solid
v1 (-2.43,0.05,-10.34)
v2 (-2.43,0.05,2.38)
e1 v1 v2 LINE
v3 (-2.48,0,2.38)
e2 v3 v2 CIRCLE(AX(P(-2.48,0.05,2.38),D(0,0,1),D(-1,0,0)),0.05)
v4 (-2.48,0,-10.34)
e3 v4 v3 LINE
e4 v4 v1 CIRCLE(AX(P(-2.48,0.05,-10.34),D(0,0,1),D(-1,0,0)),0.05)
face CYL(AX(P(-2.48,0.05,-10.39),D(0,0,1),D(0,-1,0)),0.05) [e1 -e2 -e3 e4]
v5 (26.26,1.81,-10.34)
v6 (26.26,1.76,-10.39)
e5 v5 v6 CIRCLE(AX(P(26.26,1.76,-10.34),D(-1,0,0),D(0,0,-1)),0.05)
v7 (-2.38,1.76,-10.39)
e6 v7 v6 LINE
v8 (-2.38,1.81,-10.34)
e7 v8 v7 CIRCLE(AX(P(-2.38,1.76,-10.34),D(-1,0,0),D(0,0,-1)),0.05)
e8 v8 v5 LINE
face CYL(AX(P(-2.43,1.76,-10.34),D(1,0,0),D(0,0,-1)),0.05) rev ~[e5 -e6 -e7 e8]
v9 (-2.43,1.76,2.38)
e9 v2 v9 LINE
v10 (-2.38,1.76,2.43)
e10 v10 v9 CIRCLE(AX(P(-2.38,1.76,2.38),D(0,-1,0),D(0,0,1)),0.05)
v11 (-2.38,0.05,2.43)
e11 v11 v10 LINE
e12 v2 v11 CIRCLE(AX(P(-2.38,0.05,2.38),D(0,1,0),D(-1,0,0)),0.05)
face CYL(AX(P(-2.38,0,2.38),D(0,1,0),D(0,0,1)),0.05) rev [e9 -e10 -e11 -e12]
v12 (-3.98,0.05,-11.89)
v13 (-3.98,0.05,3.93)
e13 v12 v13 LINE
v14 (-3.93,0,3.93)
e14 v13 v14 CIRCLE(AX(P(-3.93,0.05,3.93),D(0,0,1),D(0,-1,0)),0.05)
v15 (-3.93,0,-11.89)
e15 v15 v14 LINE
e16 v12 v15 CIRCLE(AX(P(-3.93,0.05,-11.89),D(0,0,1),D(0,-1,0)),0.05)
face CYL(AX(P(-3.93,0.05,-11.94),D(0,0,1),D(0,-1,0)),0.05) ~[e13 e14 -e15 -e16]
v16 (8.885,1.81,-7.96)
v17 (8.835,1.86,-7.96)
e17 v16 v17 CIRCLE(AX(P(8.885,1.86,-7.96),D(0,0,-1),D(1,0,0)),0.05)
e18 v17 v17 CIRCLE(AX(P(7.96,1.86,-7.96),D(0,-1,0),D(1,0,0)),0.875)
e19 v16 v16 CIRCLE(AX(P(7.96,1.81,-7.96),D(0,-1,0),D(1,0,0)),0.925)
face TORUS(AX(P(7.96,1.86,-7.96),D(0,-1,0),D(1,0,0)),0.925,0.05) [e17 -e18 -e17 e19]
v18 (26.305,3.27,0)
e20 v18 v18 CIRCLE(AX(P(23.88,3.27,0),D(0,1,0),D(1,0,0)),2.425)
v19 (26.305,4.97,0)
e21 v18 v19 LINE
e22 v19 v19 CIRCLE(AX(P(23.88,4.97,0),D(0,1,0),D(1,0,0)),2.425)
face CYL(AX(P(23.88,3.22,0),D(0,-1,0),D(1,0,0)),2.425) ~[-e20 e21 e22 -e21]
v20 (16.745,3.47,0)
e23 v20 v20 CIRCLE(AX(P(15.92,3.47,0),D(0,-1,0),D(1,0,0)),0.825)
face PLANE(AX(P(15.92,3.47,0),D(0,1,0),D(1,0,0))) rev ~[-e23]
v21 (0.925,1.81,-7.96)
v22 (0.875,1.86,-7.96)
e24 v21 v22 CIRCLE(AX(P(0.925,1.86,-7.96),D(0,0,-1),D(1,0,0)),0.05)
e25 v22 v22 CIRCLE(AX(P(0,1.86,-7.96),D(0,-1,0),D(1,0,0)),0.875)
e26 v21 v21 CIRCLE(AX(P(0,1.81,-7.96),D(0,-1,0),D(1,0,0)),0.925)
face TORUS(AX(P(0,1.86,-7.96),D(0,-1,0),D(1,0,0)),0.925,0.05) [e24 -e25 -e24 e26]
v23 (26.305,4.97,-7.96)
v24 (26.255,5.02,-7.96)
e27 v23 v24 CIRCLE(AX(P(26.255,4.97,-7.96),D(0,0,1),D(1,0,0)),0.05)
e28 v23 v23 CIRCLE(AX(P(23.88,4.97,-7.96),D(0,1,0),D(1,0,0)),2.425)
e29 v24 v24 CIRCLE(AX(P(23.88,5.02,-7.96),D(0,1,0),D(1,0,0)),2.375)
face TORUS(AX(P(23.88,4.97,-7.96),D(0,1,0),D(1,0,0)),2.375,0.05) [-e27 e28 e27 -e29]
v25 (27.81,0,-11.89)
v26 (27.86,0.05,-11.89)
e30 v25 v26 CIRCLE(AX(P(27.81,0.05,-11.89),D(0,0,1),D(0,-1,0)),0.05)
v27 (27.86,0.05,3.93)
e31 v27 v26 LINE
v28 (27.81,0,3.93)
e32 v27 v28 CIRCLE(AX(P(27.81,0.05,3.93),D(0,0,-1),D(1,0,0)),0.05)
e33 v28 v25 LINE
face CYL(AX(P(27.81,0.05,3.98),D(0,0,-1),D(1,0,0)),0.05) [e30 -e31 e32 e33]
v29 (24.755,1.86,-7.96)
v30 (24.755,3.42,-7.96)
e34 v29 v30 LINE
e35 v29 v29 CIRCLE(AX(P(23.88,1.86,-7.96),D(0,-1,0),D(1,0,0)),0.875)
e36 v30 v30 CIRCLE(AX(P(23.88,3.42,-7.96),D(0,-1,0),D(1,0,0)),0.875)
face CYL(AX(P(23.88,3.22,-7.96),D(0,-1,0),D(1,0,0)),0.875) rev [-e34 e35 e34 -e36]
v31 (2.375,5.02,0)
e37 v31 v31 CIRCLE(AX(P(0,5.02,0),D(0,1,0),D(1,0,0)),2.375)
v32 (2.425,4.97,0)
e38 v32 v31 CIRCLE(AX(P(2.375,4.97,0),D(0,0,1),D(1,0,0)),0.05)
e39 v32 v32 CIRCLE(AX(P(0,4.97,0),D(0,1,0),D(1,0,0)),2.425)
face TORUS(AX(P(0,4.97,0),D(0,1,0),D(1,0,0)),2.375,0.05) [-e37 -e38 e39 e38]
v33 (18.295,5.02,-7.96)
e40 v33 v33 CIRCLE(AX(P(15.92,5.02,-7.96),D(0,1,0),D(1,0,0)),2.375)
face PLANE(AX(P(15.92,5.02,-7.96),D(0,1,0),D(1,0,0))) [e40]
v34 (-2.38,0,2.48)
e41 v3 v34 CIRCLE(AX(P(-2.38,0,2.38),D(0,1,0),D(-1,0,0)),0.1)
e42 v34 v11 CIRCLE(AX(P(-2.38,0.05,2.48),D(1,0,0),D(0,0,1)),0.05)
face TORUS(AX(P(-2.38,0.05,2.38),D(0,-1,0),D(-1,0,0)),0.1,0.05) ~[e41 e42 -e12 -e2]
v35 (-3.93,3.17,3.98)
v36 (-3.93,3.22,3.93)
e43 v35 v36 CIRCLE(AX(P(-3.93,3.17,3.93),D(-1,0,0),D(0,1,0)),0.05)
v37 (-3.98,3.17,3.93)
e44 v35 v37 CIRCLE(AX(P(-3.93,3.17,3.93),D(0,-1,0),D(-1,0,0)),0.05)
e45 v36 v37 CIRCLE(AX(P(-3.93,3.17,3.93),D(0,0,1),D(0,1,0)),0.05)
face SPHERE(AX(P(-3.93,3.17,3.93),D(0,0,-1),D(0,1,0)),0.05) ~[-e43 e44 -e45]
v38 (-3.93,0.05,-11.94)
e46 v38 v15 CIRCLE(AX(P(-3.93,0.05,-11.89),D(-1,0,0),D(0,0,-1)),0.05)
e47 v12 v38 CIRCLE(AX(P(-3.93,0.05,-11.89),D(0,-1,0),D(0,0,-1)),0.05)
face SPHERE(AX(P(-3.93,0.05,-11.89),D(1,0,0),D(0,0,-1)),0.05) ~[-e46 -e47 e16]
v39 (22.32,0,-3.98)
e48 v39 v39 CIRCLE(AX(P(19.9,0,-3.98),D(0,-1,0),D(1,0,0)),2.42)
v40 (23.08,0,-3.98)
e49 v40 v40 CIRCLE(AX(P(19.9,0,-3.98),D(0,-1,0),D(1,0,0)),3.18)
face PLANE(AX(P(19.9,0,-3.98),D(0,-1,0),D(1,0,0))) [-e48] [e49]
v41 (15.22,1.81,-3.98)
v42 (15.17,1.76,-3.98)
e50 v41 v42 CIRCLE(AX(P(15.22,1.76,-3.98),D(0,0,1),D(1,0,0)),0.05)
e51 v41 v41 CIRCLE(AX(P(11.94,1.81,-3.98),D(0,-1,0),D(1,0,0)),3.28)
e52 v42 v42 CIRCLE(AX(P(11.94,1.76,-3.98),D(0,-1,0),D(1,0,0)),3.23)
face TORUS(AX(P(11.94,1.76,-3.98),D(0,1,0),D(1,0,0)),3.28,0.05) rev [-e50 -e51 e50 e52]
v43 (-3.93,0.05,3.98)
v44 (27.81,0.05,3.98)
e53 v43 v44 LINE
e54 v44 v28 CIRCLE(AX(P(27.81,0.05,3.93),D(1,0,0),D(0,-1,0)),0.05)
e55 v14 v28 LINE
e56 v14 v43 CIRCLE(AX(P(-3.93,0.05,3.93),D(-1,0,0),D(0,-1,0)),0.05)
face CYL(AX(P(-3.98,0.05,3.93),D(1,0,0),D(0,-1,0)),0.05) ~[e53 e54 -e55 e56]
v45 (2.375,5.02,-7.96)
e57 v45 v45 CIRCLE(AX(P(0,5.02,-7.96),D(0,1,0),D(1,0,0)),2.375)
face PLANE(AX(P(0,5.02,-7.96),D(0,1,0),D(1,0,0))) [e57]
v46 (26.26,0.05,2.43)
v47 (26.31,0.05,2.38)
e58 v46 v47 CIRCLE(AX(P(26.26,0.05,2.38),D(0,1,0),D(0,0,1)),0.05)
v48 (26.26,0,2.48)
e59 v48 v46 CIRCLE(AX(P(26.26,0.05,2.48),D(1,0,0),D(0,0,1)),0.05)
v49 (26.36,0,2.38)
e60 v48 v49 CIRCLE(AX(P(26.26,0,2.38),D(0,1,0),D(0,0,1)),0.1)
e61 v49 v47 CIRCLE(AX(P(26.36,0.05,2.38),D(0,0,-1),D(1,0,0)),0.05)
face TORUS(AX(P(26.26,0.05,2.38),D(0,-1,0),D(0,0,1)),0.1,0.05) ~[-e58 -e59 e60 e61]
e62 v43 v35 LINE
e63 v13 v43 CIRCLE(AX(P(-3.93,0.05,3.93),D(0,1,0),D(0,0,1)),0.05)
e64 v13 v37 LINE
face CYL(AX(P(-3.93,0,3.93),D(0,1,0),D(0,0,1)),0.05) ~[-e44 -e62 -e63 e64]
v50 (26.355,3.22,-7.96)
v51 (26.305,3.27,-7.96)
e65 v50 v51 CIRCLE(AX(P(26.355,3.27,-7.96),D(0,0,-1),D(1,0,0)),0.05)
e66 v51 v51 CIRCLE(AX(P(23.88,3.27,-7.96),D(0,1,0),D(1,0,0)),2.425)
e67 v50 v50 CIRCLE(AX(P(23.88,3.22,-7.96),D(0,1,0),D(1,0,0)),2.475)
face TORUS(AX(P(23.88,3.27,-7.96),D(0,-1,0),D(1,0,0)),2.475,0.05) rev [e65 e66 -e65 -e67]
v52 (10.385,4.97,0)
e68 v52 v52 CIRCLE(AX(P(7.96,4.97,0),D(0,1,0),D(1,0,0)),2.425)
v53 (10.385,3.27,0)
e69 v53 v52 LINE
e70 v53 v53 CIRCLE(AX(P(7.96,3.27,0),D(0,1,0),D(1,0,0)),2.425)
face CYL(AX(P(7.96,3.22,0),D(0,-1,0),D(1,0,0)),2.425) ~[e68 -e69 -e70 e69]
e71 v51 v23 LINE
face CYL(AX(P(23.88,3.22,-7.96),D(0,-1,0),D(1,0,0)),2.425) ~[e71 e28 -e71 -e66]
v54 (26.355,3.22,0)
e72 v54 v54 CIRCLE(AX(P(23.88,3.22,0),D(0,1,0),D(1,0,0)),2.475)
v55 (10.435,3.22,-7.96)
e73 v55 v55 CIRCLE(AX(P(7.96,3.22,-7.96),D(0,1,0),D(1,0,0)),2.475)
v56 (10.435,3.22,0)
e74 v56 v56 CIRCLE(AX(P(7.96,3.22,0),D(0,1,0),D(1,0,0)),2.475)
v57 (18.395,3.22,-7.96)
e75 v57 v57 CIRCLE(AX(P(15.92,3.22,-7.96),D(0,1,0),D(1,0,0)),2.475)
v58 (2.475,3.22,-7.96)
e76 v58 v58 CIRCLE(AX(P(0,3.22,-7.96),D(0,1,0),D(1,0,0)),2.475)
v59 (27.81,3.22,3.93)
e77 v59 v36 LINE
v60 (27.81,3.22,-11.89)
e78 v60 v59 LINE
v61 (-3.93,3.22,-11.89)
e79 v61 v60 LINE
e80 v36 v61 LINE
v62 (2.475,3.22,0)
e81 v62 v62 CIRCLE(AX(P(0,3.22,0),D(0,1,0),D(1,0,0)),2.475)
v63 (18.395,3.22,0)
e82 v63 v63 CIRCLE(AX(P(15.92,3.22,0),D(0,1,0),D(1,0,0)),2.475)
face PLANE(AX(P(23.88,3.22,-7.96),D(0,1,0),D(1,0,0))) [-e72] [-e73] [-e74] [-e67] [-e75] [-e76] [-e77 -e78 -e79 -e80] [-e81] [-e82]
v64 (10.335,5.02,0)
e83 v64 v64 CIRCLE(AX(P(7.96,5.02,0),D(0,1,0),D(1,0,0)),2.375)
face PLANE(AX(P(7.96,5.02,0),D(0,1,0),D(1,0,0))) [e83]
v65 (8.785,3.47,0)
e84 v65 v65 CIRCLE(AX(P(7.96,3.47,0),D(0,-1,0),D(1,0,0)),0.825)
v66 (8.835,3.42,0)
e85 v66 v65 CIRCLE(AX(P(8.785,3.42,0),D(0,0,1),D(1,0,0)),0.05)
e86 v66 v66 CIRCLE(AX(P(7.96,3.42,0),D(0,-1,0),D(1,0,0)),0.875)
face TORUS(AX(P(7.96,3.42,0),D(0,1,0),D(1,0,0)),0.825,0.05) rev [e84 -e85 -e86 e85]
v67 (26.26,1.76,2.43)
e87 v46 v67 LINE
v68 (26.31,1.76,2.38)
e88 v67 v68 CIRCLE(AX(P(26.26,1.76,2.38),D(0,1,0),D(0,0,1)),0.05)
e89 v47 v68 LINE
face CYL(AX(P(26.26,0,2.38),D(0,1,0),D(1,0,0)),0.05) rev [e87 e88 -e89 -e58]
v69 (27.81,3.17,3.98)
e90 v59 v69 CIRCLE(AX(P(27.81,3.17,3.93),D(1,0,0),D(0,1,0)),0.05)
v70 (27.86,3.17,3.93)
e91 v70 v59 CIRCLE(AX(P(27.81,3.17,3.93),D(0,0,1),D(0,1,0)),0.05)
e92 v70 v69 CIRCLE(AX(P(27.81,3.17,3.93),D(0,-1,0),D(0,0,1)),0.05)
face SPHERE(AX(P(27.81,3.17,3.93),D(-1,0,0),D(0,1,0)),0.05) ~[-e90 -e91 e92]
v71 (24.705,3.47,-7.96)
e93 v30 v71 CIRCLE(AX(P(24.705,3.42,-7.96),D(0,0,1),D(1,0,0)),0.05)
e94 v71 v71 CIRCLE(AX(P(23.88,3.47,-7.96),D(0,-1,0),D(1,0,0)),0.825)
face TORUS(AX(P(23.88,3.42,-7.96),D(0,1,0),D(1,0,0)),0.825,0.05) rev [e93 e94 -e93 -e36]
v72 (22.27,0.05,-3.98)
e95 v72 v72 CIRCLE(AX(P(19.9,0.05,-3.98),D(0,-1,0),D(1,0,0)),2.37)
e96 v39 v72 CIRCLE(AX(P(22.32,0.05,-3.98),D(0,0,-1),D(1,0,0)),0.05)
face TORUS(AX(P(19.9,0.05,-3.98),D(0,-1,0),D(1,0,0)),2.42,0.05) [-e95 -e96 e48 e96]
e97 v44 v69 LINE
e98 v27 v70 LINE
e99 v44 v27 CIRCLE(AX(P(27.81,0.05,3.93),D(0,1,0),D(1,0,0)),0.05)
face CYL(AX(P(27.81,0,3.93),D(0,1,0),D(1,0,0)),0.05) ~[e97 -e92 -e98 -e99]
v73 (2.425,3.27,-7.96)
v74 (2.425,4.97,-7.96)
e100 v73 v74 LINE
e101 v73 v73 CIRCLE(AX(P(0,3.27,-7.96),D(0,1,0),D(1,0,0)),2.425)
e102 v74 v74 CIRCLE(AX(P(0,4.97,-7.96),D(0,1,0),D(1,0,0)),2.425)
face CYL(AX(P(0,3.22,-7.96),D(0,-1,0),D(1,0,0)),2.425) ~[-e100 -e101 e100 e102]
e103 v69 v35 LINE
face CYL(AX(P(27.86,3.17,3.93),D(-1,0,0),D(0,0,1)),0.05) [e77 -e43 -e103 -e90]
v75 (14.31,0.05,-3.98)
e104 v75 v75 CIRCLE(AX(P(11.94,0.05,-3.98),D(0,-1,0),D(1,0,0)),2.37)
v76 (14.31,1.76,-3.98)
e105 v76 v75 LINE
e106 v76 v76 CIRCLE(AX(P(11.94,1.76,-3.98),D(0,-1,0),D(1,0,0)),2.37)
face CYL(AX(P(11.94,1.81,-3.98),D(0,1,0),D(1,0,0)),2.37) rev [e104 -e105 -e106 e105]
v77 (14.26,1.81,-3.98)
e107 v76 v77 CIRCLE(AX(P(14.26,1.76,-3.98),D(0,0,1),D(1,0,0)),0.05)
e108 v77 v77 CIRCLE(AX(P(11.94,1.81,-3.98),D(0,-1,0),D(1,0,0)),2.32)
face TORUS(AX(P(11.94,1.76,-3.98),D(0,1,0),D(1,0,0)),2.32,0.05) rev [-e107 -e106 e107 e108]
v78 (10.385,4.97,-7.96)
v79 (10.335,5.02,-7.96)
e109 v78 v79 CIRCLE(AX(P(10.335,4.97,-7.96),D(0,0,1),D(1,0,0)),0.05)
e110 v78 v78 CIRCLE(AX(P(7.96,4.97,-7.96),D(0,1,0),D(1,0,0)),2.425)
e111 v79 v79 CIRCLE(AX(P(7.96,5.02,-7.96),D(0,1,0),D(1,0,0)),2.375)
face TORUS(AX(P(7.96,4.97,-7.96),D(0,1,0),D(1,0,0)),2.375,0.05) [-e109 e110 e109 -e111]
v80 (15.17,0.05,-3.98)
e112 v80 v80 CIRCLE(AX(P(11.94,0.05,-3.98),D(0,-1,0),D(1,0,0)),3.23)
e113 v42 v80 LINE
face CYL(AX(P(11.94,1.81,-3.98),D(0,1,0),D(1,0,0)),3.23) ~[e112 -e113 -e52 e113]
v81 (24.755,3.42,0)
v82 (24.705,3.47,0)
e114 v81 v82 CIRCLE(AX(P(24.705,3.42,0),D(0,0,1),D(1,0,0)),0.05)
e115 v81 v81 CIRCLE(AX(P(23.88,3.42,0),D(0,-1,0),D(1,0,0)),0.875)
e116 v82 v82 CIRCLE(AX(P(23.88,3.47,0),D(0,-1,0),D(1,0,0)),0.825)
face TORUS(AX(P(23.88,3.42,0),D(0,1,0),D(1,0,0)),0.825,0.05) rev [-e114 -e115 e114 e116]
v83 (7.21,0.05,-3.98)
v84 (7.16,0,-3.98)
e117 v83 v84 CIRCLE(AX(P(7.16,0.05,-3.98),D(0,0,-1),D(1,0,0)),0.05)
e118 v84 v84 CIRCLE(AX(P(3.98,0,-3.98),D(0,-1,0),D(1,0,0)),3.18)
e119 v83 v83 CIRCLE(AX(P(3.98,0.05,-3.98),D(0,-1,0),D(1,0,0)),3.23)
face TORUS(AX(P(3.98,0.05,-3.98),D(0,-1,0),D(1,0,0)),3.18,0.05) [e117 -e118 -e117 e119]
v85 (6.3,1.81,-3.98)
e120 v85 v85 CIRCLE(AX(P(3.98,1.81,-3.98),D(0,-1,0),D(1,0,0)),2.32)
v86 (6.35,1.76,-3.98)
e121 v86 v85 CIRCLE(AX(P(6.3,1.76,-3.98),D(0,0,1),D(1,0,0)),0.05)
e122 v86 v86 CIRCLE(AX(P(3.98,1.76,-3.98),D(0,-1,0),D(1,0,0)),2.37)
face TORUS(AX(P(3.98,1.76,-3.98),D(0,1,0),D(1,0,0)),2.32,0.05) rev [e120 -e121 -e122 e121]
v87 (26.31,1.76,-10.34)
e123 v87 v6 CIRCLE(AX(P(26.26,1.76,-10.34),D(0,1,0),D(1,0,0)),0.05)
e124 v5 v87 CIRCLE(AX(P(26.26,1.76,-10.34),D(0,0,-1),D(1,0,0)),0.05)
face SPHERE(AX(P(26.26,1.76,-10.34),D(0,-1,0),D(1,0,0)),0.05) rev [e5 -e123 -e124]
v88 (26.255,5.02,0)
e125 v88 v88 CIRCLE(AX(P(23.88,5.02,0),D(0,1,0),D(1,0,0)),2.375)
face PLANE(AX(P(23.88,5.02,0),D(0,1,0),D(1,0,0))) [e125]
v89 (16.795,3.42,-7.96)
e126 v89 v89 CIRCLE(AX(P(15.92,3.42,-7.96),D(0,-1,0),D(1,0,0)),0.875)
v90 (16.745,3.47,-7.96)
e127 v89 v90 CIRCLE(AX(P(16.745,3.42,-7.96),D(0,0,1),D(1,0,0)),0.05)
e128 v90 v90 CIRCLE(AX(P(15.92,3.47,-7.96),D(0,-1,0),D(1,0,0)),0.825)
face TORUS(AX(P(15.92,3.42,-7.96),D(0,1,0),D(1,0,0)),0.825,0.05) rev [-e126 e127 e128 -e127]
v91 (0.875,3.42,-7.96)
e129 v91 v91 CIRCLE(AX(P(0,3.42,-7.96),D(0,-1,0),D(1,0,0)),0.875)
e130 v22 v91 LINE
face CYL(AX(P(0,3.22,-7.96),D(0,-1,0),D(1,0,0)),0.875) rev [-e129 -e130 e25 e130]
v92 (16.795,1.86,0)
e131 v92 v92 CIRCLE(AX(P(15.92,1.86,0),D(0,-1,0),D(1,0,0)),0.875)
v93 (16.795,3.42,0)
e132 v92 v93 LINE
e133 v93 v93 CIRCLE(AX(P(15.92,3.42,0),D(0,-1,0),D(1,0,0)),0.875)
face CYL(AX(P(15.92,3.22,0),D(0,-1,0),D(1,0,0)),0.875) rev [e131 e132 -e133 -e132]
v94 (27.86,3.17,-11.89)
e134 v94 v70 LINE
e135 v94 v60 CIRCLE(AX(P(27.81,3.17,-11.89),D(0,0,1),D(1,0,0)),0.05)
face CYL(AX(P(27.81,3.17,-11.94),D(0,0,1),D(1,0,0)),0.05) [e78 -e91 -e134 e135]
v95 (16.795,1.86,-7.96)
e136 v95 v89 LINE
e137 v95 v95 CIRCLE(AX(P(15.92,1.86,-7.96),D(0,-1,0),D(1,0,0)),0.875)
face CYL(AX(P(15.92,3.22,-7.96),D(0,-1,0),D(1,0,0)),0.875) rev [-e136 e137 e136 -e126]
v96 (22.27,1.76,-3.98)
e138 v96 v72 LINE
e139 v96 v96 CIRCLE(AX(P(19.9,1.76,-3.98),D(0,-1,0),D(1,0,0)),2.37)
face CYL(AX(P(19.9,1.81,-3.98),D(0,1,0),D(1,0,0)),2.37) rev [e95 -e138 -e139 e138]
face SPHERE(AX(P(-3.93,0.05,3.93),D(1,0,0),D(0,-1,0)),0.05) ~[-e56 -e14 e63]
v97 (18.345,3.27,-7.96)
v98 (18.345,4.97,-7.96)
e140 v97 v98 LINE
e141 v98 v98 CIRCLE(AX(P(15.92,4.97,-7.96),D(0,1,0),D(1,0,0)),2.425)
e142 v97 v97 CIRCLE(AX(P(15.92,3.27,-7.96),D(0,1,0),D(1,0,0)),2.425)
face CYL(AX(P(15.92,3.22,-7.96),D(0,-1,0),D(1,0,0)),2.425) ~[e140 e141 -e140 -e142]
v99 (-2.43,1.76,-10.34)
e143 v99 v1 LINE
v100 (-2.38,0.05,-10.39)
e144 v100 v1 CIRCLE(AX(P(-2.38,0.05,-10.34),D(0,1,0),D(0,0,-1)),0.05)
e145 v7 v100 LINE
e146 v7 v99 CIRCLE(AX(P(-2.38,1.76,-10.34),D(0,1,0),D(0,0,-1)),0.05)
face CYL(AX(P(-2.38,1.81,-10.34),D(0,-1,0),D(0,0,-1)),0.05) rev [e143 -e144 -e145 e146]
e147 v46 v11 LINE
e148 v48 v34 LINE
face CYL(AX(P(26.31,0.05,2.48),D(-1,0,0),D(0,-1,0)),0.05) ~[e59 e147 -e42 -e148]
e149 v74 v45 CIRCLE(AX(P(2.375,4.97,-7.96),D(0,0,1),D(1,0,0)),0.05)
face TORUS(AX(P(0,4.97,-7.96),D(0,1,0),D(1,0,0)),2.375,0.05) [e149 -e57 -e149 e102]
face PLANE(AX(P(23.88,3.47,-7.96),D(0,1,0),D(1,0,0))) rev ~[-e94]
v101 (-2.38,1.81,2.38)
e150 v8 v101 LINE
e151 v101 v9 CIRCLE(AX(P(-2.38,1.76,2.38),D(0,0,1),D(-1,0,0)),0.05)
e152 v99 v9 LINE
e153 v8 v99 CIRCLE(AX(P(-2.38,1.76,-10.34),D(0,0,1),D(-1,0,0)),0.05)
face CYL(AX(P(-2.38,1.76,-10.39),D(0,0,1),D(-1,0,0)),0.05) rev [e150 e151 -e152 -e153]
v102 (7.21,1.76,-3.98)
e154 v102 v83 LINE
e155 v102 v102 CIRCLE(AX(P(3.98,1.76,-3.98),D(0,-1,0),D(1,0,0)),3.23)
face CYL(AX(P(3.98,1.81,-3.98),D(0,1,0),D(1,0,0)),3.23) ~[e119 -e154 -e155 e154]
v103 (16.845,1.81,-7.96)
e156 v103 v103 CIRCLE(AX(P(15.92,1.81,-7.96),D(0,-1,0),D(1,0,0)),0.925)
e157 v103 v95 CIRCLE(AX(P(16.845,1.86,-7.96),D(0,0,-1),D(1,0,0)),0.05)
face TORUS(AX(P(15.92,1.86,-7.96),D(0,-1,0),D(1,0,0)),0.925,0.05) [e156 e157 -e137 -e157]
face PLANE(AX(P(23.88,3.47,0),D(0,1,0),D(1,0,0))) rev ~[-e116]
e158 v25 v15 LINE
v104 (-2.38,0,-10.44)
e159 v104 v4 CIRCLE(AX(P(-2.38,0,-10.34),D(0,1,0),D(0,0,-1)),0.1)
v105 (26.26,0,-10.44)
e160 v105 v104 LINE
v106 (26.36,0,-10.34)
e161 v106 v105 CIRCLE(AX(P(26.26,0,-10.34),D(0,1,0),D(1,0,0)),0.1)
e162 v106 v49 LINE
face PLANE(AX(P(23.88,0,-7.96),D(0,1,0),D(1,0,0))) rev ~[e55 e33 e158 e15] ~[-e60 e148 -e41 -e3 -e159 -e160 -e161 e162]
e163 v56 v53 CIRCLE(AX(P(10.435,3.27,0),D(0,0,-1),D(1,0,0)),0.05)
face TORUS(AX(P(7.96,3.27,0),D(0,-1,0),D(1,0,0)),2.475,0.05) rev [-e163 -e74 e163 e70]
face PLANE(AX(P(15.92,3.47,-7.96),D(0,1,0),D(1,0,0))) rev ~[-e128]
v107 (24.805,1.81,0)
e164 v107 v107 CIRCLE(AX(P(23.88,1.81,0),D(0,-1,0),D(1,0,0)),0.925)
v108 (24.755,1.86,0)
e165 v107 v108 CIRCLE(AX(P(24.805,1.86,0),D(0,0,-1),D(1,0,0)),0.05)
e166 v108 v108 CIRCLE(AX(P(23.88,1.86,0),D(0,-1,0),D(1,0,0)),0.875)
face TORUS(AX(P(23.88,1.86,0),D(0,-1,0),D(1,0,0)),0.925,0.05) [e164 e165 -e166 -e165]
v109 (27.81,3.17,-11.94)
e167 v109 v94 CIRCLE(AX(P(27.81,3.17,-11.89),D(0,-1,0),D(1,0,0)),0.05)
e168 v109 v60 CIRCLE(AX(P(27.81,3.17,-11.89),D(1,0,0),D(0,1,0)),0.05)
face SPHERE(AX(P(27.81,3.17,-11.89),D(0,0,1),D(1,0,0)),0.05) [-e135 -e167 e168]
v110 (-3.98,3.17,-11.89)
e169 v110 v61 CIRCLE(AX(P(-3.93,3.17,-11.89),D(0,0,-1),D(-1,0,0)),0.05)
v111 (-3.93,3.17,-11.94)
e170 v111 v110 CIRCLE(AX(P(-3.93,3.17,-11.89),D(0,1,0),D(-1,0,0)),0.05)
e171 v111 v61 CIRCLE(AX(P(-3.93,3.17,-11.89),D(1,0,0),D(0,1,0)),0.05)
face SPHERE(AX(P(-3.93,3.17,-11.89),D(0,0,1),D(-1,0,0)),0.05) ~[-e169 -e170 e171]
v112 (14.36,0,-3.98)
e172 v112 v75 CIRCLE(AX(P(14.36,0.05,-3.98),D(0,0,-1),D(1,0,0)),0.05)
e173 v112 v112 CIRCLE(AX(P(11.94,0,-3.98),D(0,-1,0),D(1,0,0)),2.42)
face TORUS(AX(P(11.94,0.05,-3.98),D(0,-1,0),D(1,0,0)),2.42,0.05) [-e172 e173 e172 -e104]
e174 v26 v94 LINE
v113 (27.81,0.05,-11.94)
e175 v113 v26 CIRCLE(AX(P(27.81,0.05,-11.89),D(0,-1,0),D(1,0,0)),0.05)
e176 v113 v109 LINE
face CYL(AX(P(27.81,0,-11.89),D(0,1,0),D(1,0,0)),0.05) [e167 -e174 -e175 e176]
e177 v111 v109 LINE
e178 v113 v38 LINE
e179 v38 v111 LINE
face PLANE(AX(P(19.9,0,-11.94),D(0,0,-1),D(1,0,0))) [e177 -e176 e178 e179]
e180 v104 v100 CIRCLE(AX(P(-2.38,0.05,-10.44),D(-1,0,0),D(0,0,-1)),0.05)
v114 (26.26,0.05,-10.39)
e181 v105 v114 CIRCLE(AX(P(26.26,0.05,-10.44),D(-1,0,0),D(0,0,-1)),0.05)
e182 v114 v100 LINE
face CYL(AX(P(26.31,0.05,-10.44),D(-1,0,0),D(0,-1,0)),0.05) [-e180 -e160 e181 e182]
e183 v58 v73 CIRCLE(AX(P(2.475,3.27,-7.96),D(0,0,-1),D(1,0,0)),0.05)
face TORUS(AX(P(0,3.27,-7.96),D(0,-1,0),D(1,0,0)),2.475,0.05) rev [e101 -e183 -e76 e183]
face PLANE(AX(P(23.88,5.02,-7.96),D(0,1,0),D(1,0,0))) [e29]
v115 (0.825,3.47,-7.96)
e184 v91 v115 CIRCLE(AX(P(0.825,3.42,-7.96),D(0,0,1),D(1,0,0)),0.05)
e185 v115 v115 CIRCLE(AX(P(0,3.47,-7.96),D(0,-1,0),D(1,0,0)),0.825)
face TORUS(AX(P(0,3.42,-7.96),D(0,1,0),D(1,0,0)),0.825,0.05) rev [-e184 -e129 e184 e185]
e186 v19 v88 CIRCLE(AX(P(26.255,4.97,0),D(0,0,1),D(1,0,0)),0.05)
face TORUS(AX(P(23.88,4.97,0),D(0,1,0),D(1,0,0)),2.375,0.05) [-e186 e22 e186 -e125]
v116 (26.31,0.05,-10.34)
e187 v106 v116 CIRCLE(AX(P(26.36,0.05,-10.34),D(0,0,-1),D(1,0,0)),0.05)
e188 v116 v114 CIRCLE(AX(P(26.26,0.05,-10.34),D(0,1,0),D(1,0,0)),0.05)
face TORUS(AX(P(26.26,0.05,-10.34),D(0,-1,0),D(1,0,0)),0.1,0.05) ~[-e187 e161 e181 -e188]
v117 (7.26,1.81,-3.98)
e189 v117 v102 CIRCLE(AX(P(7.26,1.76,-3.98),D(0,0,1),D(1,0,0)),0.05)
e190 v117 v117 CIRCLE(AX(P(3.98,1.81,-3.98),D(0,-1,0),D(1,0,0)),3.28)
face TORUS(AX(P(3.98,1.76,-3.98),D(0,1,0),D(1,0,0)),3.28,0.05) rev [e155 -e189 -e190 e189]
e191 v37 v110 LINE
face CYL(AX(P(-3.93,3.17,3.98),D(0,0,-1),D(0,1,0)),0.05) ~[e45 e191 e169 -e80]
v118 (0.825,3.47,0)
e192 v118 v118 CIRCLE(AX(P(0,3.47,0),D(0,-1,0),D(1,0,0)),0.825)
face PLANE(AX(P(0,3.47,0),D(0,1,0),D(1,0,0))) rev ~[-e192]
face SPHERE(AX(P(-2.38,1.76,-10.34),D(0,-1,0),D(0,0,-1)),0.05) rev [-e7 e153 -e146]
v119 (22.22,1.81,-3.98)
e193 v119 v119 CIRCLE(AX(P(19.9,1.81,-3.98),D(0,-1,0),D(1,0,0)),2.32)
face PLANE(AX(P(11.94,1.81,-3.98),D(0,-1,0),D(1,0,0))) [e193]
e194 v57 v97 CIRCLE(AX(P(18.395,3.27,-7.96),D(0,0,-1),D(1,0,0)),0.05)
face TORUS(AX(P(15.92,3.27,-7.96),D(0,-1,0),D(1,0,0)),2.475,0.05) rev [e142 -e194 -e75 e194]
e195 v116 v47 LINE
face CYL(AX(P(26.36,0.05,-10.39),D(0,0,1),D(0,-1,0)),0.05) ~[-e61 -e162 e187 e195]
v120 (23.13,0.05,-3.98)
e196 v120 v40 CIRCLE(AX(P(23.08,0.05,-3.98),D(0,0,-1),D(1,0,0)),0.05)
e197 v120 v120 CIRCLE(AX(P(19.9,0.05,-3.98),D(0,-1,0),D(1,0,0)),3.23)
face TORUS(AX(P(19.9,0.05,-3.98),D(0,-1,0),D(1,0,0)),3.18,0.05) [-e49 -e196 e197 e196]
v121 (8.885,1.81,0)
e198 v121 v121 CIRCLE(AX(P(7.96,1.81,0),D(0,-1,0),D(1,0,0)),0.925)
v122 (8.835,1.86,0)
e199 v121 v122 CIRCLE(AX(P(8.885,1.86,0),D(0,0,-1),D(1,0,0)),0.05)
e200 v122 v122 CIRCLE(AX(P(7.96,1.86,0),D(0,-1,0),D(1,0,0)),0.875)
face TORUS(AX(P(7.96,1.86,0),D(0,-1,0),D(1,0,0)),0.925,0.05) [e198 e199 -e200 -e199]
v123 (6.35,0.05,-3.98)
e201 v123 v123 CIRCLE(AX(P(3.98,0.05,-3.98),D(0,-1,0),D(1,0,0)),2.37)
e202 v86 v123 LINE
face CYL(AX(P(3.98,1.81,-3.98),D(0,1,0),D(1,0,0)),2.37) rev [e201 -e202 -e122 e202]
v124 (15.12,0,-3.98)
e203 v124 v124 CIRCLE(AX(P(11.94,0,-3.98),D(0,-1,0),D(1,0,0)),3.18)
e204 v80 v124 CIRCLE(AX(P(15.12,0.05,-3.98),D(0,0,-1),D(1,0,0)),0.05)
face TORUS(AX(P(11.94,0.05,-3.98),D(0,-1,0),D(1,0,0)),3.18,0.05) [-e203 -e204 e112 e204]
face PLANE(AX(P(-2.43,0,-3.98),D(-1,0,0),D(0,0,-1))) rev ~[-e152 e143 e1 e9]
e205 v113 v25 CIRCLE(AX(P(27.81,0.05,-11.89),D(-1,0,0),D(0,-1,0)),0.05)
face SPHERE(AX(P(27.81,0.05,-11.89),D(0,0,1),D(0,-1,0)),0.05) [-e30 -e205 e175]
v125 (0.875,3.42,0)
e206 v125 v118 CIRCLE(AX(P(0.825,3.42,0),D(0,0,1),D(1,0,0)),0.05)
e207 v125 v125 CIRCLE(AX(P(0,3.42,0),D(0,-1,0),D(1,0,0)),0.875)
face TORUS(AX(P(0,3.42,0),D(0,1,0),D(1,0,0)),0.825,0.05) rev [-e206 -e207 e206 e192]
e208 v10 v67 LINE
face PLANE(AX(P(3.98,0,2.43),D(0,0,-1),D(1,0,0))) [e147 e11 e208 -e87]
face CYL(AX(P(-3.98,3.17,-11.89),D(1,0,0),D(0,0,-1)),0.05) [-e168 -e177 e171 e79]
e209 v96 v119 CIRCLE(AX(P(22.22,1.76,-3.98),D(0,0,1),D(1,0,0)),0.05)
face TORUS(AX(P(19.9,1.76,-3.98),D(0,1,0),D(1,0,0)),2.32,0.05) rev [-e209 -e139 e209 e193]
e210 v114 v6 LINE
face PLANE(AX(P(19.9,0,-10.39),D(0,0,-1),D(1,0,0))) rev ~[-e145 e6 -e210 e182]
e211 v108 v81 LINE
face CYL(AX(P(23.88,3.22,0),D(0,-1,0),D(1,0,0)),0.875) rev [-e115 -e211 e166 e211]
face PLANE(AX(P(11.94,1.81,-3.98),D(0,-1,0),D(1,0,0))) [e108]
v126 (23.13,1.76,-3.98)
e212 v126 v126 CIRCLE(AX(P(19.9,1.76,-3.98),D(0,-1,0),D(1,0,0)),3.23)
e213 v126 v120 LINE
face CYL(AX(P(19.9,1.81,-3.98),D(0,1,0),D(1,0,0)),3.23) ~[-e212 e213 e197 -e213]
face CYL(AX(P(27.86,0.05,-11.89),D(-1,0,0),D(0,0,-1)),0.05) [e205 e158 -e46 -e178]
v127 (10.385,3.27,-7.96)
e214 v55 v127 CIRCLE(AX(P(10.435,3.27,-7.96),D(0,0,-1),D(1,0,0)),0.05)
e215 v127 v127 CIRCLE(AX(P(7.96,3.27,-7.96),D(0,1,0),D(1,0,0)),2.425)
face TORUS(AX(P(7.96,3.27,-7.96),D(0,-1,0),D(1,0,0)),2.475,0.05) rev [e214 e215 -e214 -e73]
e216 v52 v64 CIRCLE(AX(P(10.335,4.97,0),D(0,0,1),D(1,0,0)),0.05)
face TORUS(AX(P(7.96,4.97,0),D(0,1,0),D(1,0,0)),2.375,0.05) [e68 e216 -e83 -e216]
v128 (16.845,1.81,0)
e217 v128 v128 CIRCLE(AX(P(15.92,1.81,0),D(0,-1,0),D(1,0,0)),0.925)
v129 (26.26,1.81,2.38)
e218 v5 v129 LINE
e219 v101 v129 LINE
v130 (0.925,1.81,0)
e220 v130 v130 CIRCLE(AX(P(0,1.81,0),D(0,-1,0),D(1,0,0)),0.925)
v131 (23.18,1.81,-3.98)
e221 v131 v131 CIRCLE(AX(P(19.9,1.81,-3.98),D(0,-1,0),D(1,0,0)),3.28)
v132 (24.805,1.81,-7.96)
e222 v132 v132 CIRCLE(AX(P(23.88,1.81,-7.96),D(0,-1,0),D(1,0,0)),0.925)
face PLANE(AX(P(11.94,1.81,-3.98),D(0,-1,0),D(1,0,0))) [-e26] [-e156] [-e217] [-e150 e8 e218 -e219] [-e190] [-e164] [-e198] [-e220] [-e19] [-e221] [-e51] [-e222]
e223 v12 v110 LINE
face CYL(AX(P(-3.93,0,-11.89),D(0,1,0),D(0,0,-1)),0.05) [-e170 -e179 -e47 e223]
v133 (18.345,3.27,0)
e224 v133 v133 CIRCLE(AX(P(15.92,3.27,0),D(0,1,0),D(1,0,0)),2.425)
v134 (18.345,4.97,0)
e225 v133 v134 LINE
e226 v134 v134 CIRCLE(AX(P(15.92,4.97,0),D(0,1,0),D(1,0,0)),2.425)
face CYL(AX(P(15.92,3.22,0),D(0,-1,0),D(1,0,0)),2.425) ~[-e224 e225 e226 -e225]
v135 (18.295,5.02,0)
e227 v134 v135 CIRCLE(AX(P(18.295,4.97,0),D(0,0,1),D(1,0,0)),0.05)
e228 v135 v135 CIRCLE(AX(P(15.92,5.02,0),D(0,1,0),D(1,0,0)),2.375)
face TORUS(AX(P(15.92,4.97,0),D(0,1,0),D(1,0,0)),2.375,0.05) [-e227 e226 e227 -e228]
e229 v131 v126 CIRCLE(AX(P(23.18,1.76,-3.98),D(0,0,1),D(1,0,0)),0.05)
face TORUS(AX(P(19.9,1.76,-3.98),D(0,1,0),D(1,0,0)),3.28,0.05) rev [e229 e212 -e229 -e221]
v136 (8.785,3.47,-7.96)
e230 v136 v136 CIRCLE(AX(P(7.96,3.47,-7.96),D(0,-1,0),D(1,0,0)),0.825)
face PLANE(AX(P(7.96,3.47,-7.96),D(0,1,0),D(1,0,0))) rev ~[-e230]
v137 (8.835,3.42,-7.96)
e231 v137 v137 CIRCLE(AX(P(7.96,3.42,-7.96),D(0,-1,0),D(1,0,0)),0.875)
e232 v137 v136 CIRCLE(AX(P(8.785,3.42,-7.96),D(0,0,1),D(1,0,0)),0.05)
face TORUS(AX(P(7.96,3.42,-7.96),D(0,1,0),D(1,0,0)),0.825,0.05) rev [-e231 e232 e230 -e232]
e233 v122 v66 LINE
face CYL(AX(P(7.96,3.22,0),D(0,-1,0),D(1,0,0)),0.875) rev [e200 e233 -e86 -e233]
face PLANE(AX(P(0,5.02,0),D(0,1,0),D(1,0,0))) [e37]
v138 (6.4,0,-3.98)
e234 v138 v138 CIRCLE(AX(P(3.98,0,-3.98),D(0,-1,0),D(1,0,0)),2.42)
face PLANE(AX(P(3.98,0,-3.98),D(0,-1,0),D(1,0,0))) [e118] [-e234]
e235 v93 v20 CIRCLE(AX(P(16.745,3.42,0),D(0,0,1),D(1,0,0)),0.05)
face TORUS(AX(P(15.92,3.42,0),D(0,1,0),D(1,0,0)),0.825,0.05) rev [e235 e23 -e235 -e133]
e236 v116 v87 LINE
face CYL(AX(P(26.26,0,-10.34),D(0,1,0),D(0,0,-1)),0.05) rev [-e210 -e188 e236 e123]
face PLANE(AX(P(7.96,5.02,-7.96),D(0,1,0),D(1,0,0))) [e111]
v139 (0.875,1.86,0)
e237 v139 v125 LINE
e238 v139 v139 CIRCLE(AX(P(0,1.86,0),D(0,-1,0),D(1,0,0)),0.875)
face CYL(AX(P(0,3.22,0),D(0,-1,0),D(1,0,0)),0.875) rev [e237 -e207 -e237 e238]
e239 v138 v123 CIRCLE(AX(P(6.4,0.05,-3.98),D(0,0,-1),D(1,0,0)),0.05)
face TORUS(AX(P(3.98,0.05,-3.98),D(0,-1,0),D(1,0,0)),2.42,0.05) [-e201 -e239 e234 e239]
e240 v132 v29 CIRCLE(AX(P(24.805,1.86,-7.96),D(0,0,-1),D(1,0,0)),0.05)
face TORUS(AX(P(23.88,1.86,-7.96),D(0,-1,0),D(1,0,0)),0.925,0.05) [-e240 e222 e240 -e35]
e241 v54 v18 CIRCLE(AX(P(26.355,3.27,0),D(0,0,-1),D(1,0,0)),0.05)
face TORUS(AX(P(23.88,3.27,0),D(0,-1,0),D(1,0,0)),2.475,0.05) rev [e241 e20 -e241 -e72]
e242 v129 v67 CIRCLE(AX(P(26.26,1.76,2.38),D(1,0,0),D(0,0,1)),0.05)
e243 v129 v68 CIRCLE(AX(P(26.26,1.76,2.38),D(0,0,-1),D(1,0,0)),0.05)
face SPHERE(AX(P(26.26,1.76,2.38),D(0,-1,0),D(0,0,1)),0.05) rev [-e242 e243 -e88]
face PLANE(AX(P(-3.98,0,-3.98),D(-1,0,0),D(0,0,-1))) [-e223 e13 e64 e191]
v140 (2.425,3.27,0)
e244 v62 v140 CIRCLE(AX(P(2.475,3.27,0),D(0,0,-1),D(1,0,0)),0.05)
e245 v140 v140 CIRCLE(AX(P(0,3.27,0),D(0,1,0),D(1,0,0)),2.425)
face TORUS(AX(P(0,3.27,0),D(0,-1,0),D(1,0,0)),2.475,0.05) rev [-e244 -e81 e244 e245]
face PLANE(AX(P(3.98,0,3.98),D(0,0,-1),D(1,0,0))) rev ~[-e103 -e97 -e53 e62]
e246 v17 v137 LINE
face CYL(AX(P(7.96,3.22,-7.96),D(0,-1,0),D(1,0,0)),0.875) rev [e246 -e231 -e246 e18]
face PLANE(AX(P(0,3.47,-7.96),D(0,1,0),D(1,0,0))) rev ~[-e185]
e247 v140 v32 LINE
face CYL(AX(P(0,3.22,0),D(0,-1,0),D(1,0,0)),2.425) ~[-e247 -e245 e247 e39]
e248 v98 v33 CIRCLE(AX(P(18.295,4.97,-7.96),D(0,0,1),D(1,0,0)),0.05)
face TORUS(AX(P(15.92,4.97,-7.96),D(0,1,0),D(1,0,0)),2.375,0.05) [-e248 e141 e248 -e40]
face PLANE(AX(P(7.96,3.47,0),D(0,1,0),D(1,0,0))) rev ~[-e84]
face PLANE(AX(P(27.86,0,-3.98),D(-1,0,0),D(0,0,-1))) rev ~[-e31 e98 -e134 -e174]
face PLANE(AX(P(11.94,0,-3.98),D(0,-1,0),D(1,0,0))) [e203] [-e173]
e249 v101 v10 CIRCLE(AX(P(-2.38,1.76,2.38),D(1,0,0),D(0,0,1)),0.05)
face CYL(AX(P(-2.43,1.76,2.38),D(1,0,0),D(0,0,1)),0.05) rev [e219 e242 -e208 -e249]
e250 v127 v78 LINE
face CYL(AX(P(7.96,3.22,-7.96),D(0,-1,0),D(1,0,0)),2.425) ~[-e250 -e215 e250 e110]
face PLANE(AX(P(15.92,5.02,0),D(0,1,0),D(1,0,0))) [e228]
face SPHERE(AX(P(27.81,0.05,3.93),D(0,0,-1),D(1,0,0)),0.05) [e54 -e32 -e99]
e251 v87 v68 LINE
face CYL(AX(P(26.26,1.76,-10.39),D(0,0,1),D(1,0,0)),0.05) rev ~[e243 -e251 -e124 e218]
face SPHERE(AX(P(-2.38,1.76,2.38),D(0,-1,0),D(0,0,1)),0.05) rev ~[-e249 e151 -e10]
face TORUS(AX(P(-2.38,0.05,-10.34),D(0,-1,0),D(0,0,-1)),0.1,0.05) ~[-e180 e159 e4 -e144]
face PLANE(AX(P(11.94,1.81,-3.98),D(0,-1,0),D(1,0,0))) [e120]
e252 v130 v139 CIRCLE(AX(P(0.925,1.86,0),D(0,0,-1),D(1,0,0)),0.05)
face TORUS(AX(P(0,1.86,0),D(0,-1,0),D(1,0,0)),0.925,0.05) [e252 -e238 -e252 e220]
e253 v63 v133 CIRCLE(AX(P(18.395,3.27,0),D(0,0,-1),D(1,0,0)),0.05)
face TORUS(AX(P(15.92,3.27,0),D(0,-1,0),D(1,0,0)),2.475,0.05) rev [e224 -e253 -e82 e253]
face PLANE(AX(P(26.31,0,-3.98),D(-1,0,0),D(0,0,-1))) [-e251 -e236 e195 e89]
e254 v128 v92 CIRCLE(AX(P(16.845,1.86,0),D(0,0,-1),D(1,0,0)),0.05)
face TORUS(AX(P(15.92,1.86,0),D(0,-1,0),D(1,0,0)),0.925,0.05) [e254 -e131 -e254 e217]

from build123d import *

# Parameters (mm, degrees)
SKETCH1_W                 = 7.96
SKETCH1_H                 = 7.96
EXTRUDE1_DEPTH            = 3.22
SKETCH2_R                 = 2.425
EXTRUDE2_DEPTH            = 1.8
LPATTERN1_COUNT           = 4
LPATTERN1_PITCH           = 7.96
LPATTERN2_COUNT           = 2
LPATTERN2_PITCH           = 7.96
LPATTERN2_COPY_1_SKETCH_W = 7.96
LPATTERN2_COPY_1_SKETCH_H = 7.96
LPATTERN2_COPY_1_DEPTH    = 3.22
LPATTERN2_COPY_2_SKETCH_W = 7.96
LPATTERN2_COPY_2_SKETCH_H = 7.96
LPATTERN2_COPY_2_DEPTH    = 3.22
LPATTERN2_COPY_3_SKETCH_W = 7.96
LPATTERN2_COPY_3_SKETCH_H = 7.96
LPATTERN2_COPY_3_DEPTH    = 3.22
LPATTERN2_COPY_4_SKETCH_R = 2.425
LPATTERN2_COPY_4_DEPTH    = 1.8
LPATTERN2_COPY_5_SKETCH_R = 2.425
LPATTERN2_COPY_5_DEPTH    = 1.8
LPATTERN2_COPY_6_SKETCH_R = 2.425
LPATTERN2_COPY_6_DEPTH    = 1.8
SHELL1_T                  = -1.55
SKETCH3_W                 = 28.74
SKETCH3_H                 = 12.82
EXTRUDE3_DEPTH            = 0.14
SKETCH4_R                 = 3.23
SKETCH4_R_2               = 2.37
EXTRUDE4_DEPTH            = 1.81
FILLET1_R                 = 0.05


with BuildPart() as part:
    # Sketch1 → Extrude1 (new body)
    with BuildSketch(Plane(origin=(0, 0, 0), x_dir=(1, 0, 0), z_dir=(0, 1, 0))):
        Rectangle(SKETCH1_W, SKETCH1_H)
    extrude1 = extrude(amount=EXTRUDE1_DEPTH)

    # Sketch2 → Extrude2 (add)
    with BuildSketch(Plane(origin=(0, 3.22, 0), x_dir=(1, 0, 0), z_dir=(0, 1, 0))):
        Circle(SKETCH2_R)
    extrude2 = extrude(amount=EXTRUDE2_DEPTH)

    # LPattern1: Extrude1, Extrude2 ×4
    with Locations(*[(i * LPATTERN1_PITCH, 0, 0) for i in range(1, LPATTERN1_COUNT)]):
        add(extrude1)
        add(extrude2)

    # LPattern2: Extrude1, Extrude2 ×2
    with Locations(*[(0, 0, -i * LPATTERN2_PITCH) for i in range(1, LPATTERN2_COUNT)]):
        add(extrude1)
        add(extrude2)

    # LPattern2 copy 1 sketch → LPattern2 copy 1 (add)
    with BuildSketch(Plane(origin=(7.96, 0, -7.96), x_dir=(1, 0, 0), z_dir=(0, 1, 0))):
        Rectangle(LPATTERN2_COPY_1_SKETCH_W, LPATTERN2_COPY_1_SKETCH_H)
    extrude(amount=LPATTERN2_COPY_1_DEPTH)

    # LPattern2 copy 2 sketch → LPattern2 copy 2 (add)
    with BuildSketch(Plane(origin=(15.92, 0, -7.96), x_dir=(1, 0, 0), z_dir=(0, 1, 0))):
        Rectangle(LPATTERN2_COPY_2_SKETCH_W, LPATTERN2_COPY_2_SKETCH_H)
    extrude(amount=LPATTERN2_COPY_2_DEPTH)

    # LPattern2 copy 3 sketch → LPattern2 copy 3 (add)
    with BuildSketch(Plane(origin=(23.88, 0, -7.96), x_dir=(1, 0, 0), z_dir=(0, 1, 0))):
        Rectangle(LPATTERN2_COPY_3_SKETCH_W, LPATTERN2_COPY_3_SKETCH_H)
    extrude(amount=LPATTERN2_COPY_3_DEPTH)

    # LPattern2 copy 4 sketch → LPattern2 copy 4 (add)
    with BuildSketch(Plane(origin=(7.96, 3.22, -7.96), x_dir=(1, 0, 0), z_dir=(0, 1, 0))):
        Circle(LPATTERN2_COPY_4_SKETCH_R)
    extrude(amount=LPATTERN2_COPY_4_DEPTH)

    # LPattern2 copy 5 sketch → LPattern2 copy 5 (add)
    with BuildSketch(Plane(origin=(15.92, 3.22, -7.96), x_dir=(1, 0, 0), z_dir=(0, 1, 0))):
        Circle(LPATTERN2_COPY_5_SKETCH_R)
    extrude(amount=LPATTERN2_COPY_5_DEPTH)

    # LPattern2 copy 6 sketch → LPattern2 copy 6 (add)
    with BuildSketch(Plane(origin=(23.88, 3.22, -7.96), x_dir=(1, 0, 0), z_dir=(0, 1, 0))):
        Circle(LPATTERN2_COPY_6_SKETCH_R)
    extrude(amount=LPATTERN2_COPY_6_DEPTH)

    # Shell1
    shell1_openings = [part.faces().sort_by_distance(p)[0] for p in [
        (11.94, 0, -3.98),
    ]]
    offset(amount=SHELL1_T, openings=shell1_openings, kind=Kind.INTERSECTION)

    # Sketch3 → Extrude3 (cut)
    with BuildSketch(Plane.XZ.offset(-1.67)):
        with Locations((11.94, -3.98)):
            Rectangle(SKETCH3_W, SKETCH3_H)
    extrude(amount=-EXTRUDE3_DEPTH, mode=Mode.SUBTRACT)

    # Sketch4 → Extrude4 (add)
    with BuildSketch(Plane.XZ.offset(-1.81)):
        with Locations((3.98, -3.98)):
            Circle(SKETCH4_R)
        with Locations((3.98, -3.98)):
            Circle(SKETCH4_R_2, mode=Mode.SUBTRACT)
        with Locations((11.94, -3.98)):
            Circle(SKETCH4_R)
        with Locations((11.94, -3.98)):
            Circle(SKETCH4_R_2, mode=Mode.SUBTRACT)
        with Locations((19.9, -3.98)):
            Circle(SKETCH4_R)
        with Locations((19.9, -3.98)):
            Circle(SKETCH4_R_2, mode=Mode.SUBTRACT)
    extrude(amount=EXTRUDE4_DEPTH)

    # Fillet1
    fillet1_edges = [part.edges().sort_by_distance(p)[0] for p in [
        (-3.98, 3.22, -3.98),
        (0.75, 1.81, -3.98),
        (1.61, 1.81, -3.98),
        (0.75, 0, -3.98),
        (1.61, 0, -3.98),
        (11.94, 3.22, 3.98),
        (8.71, 1.81, -3.98),
        (9.57, 1.81, -3.98),
        (8.71, 0, -3.98),
        (9.57, 0, -3.98),
        (16.67, 1.81, -3.98),
        (-2.425, 3.22, 0),
        (17.53, 1.81, -3.98),
        (16.67, 0, -3.98),
        (17.53, 0, -3.98),
        (-2.425, 5.02, 0),
        (27.86, 3.22, -3.98),
        (27.86, 0, -3.98),
        (27.86, 1.61, 3.98),
        (5.535, 3.22, 0),
        (5.535, 5.02, 0),
        (13.495, 3.22, 0),
        (13.495, 5.02, 0),
        (21.455, 3.22, 0),
        (21.455, 5.02, 0),
        (11.94, 0, -11.94),
        (27.86, 1.61, -11.94),
        (-3.98, 1.61, -11.94),
        (11.94, 3.22, -11.94),
        (11.94, 0, 3.98),
        (-3.98, 0, -3.98),
        (-2.425, 3.22, -7.96),
        (-2.425, 5.02, -7.96),
        (5.535, 3.22, -7.96),
        (5.535, 5.02, -7.96),
        (13.495, 3.22, -7.96),
        (13.495, 5.02, -7.96),
        (21.455, 3.22, -7.96),
        (21.455, 5.02, -7.96),
        (-2.43, 0, -3.98),
        (-2.43, 0.905, -10.39),
        (11.94, 0, 2.43),
        (-2.43, 0.905, 2.43),
        (-0.875, 3.47, 0),
        (26.31, 0, -3.98),
        (26.31, 0.905, 2.43),
        (7.085, 3.47, 0),
        (15.045, 3.47, 0),
        (23.005, 3.47, 0),
        (11.94, 0, -10.39),
        (26.31, 0.905, -10.39),
        (-0.875, 3.47, -7.96),
        (7.085, 3.47, -7.96),
        (15.045, 3.47, -7.96),
        (23.005, 3.47, -7.96),
        (-3.98, 1.61, 3.98),
        (-0.875, 1.81, 0),
        (7.085, 1.81, 0),
        (15.045, 1.81, 0),
        (23.005, 1.81, 0),
        (-0.875, 1.81, -7.96),
        (7.085, 1.81, -7.96),
        (15.045, 1.81, -7.96),
        (23.005, 1.81, -7.96),
        (11.94, 1.81, 2.43),
        (26.31, 1.81, -3.98),
        (11.94, 1.81, -10.39),
        (-2.43, 1.81, -3.98),
    ]]
    fillet(fillet1_edges, radius=FILLET1_R)


solid = part.part
